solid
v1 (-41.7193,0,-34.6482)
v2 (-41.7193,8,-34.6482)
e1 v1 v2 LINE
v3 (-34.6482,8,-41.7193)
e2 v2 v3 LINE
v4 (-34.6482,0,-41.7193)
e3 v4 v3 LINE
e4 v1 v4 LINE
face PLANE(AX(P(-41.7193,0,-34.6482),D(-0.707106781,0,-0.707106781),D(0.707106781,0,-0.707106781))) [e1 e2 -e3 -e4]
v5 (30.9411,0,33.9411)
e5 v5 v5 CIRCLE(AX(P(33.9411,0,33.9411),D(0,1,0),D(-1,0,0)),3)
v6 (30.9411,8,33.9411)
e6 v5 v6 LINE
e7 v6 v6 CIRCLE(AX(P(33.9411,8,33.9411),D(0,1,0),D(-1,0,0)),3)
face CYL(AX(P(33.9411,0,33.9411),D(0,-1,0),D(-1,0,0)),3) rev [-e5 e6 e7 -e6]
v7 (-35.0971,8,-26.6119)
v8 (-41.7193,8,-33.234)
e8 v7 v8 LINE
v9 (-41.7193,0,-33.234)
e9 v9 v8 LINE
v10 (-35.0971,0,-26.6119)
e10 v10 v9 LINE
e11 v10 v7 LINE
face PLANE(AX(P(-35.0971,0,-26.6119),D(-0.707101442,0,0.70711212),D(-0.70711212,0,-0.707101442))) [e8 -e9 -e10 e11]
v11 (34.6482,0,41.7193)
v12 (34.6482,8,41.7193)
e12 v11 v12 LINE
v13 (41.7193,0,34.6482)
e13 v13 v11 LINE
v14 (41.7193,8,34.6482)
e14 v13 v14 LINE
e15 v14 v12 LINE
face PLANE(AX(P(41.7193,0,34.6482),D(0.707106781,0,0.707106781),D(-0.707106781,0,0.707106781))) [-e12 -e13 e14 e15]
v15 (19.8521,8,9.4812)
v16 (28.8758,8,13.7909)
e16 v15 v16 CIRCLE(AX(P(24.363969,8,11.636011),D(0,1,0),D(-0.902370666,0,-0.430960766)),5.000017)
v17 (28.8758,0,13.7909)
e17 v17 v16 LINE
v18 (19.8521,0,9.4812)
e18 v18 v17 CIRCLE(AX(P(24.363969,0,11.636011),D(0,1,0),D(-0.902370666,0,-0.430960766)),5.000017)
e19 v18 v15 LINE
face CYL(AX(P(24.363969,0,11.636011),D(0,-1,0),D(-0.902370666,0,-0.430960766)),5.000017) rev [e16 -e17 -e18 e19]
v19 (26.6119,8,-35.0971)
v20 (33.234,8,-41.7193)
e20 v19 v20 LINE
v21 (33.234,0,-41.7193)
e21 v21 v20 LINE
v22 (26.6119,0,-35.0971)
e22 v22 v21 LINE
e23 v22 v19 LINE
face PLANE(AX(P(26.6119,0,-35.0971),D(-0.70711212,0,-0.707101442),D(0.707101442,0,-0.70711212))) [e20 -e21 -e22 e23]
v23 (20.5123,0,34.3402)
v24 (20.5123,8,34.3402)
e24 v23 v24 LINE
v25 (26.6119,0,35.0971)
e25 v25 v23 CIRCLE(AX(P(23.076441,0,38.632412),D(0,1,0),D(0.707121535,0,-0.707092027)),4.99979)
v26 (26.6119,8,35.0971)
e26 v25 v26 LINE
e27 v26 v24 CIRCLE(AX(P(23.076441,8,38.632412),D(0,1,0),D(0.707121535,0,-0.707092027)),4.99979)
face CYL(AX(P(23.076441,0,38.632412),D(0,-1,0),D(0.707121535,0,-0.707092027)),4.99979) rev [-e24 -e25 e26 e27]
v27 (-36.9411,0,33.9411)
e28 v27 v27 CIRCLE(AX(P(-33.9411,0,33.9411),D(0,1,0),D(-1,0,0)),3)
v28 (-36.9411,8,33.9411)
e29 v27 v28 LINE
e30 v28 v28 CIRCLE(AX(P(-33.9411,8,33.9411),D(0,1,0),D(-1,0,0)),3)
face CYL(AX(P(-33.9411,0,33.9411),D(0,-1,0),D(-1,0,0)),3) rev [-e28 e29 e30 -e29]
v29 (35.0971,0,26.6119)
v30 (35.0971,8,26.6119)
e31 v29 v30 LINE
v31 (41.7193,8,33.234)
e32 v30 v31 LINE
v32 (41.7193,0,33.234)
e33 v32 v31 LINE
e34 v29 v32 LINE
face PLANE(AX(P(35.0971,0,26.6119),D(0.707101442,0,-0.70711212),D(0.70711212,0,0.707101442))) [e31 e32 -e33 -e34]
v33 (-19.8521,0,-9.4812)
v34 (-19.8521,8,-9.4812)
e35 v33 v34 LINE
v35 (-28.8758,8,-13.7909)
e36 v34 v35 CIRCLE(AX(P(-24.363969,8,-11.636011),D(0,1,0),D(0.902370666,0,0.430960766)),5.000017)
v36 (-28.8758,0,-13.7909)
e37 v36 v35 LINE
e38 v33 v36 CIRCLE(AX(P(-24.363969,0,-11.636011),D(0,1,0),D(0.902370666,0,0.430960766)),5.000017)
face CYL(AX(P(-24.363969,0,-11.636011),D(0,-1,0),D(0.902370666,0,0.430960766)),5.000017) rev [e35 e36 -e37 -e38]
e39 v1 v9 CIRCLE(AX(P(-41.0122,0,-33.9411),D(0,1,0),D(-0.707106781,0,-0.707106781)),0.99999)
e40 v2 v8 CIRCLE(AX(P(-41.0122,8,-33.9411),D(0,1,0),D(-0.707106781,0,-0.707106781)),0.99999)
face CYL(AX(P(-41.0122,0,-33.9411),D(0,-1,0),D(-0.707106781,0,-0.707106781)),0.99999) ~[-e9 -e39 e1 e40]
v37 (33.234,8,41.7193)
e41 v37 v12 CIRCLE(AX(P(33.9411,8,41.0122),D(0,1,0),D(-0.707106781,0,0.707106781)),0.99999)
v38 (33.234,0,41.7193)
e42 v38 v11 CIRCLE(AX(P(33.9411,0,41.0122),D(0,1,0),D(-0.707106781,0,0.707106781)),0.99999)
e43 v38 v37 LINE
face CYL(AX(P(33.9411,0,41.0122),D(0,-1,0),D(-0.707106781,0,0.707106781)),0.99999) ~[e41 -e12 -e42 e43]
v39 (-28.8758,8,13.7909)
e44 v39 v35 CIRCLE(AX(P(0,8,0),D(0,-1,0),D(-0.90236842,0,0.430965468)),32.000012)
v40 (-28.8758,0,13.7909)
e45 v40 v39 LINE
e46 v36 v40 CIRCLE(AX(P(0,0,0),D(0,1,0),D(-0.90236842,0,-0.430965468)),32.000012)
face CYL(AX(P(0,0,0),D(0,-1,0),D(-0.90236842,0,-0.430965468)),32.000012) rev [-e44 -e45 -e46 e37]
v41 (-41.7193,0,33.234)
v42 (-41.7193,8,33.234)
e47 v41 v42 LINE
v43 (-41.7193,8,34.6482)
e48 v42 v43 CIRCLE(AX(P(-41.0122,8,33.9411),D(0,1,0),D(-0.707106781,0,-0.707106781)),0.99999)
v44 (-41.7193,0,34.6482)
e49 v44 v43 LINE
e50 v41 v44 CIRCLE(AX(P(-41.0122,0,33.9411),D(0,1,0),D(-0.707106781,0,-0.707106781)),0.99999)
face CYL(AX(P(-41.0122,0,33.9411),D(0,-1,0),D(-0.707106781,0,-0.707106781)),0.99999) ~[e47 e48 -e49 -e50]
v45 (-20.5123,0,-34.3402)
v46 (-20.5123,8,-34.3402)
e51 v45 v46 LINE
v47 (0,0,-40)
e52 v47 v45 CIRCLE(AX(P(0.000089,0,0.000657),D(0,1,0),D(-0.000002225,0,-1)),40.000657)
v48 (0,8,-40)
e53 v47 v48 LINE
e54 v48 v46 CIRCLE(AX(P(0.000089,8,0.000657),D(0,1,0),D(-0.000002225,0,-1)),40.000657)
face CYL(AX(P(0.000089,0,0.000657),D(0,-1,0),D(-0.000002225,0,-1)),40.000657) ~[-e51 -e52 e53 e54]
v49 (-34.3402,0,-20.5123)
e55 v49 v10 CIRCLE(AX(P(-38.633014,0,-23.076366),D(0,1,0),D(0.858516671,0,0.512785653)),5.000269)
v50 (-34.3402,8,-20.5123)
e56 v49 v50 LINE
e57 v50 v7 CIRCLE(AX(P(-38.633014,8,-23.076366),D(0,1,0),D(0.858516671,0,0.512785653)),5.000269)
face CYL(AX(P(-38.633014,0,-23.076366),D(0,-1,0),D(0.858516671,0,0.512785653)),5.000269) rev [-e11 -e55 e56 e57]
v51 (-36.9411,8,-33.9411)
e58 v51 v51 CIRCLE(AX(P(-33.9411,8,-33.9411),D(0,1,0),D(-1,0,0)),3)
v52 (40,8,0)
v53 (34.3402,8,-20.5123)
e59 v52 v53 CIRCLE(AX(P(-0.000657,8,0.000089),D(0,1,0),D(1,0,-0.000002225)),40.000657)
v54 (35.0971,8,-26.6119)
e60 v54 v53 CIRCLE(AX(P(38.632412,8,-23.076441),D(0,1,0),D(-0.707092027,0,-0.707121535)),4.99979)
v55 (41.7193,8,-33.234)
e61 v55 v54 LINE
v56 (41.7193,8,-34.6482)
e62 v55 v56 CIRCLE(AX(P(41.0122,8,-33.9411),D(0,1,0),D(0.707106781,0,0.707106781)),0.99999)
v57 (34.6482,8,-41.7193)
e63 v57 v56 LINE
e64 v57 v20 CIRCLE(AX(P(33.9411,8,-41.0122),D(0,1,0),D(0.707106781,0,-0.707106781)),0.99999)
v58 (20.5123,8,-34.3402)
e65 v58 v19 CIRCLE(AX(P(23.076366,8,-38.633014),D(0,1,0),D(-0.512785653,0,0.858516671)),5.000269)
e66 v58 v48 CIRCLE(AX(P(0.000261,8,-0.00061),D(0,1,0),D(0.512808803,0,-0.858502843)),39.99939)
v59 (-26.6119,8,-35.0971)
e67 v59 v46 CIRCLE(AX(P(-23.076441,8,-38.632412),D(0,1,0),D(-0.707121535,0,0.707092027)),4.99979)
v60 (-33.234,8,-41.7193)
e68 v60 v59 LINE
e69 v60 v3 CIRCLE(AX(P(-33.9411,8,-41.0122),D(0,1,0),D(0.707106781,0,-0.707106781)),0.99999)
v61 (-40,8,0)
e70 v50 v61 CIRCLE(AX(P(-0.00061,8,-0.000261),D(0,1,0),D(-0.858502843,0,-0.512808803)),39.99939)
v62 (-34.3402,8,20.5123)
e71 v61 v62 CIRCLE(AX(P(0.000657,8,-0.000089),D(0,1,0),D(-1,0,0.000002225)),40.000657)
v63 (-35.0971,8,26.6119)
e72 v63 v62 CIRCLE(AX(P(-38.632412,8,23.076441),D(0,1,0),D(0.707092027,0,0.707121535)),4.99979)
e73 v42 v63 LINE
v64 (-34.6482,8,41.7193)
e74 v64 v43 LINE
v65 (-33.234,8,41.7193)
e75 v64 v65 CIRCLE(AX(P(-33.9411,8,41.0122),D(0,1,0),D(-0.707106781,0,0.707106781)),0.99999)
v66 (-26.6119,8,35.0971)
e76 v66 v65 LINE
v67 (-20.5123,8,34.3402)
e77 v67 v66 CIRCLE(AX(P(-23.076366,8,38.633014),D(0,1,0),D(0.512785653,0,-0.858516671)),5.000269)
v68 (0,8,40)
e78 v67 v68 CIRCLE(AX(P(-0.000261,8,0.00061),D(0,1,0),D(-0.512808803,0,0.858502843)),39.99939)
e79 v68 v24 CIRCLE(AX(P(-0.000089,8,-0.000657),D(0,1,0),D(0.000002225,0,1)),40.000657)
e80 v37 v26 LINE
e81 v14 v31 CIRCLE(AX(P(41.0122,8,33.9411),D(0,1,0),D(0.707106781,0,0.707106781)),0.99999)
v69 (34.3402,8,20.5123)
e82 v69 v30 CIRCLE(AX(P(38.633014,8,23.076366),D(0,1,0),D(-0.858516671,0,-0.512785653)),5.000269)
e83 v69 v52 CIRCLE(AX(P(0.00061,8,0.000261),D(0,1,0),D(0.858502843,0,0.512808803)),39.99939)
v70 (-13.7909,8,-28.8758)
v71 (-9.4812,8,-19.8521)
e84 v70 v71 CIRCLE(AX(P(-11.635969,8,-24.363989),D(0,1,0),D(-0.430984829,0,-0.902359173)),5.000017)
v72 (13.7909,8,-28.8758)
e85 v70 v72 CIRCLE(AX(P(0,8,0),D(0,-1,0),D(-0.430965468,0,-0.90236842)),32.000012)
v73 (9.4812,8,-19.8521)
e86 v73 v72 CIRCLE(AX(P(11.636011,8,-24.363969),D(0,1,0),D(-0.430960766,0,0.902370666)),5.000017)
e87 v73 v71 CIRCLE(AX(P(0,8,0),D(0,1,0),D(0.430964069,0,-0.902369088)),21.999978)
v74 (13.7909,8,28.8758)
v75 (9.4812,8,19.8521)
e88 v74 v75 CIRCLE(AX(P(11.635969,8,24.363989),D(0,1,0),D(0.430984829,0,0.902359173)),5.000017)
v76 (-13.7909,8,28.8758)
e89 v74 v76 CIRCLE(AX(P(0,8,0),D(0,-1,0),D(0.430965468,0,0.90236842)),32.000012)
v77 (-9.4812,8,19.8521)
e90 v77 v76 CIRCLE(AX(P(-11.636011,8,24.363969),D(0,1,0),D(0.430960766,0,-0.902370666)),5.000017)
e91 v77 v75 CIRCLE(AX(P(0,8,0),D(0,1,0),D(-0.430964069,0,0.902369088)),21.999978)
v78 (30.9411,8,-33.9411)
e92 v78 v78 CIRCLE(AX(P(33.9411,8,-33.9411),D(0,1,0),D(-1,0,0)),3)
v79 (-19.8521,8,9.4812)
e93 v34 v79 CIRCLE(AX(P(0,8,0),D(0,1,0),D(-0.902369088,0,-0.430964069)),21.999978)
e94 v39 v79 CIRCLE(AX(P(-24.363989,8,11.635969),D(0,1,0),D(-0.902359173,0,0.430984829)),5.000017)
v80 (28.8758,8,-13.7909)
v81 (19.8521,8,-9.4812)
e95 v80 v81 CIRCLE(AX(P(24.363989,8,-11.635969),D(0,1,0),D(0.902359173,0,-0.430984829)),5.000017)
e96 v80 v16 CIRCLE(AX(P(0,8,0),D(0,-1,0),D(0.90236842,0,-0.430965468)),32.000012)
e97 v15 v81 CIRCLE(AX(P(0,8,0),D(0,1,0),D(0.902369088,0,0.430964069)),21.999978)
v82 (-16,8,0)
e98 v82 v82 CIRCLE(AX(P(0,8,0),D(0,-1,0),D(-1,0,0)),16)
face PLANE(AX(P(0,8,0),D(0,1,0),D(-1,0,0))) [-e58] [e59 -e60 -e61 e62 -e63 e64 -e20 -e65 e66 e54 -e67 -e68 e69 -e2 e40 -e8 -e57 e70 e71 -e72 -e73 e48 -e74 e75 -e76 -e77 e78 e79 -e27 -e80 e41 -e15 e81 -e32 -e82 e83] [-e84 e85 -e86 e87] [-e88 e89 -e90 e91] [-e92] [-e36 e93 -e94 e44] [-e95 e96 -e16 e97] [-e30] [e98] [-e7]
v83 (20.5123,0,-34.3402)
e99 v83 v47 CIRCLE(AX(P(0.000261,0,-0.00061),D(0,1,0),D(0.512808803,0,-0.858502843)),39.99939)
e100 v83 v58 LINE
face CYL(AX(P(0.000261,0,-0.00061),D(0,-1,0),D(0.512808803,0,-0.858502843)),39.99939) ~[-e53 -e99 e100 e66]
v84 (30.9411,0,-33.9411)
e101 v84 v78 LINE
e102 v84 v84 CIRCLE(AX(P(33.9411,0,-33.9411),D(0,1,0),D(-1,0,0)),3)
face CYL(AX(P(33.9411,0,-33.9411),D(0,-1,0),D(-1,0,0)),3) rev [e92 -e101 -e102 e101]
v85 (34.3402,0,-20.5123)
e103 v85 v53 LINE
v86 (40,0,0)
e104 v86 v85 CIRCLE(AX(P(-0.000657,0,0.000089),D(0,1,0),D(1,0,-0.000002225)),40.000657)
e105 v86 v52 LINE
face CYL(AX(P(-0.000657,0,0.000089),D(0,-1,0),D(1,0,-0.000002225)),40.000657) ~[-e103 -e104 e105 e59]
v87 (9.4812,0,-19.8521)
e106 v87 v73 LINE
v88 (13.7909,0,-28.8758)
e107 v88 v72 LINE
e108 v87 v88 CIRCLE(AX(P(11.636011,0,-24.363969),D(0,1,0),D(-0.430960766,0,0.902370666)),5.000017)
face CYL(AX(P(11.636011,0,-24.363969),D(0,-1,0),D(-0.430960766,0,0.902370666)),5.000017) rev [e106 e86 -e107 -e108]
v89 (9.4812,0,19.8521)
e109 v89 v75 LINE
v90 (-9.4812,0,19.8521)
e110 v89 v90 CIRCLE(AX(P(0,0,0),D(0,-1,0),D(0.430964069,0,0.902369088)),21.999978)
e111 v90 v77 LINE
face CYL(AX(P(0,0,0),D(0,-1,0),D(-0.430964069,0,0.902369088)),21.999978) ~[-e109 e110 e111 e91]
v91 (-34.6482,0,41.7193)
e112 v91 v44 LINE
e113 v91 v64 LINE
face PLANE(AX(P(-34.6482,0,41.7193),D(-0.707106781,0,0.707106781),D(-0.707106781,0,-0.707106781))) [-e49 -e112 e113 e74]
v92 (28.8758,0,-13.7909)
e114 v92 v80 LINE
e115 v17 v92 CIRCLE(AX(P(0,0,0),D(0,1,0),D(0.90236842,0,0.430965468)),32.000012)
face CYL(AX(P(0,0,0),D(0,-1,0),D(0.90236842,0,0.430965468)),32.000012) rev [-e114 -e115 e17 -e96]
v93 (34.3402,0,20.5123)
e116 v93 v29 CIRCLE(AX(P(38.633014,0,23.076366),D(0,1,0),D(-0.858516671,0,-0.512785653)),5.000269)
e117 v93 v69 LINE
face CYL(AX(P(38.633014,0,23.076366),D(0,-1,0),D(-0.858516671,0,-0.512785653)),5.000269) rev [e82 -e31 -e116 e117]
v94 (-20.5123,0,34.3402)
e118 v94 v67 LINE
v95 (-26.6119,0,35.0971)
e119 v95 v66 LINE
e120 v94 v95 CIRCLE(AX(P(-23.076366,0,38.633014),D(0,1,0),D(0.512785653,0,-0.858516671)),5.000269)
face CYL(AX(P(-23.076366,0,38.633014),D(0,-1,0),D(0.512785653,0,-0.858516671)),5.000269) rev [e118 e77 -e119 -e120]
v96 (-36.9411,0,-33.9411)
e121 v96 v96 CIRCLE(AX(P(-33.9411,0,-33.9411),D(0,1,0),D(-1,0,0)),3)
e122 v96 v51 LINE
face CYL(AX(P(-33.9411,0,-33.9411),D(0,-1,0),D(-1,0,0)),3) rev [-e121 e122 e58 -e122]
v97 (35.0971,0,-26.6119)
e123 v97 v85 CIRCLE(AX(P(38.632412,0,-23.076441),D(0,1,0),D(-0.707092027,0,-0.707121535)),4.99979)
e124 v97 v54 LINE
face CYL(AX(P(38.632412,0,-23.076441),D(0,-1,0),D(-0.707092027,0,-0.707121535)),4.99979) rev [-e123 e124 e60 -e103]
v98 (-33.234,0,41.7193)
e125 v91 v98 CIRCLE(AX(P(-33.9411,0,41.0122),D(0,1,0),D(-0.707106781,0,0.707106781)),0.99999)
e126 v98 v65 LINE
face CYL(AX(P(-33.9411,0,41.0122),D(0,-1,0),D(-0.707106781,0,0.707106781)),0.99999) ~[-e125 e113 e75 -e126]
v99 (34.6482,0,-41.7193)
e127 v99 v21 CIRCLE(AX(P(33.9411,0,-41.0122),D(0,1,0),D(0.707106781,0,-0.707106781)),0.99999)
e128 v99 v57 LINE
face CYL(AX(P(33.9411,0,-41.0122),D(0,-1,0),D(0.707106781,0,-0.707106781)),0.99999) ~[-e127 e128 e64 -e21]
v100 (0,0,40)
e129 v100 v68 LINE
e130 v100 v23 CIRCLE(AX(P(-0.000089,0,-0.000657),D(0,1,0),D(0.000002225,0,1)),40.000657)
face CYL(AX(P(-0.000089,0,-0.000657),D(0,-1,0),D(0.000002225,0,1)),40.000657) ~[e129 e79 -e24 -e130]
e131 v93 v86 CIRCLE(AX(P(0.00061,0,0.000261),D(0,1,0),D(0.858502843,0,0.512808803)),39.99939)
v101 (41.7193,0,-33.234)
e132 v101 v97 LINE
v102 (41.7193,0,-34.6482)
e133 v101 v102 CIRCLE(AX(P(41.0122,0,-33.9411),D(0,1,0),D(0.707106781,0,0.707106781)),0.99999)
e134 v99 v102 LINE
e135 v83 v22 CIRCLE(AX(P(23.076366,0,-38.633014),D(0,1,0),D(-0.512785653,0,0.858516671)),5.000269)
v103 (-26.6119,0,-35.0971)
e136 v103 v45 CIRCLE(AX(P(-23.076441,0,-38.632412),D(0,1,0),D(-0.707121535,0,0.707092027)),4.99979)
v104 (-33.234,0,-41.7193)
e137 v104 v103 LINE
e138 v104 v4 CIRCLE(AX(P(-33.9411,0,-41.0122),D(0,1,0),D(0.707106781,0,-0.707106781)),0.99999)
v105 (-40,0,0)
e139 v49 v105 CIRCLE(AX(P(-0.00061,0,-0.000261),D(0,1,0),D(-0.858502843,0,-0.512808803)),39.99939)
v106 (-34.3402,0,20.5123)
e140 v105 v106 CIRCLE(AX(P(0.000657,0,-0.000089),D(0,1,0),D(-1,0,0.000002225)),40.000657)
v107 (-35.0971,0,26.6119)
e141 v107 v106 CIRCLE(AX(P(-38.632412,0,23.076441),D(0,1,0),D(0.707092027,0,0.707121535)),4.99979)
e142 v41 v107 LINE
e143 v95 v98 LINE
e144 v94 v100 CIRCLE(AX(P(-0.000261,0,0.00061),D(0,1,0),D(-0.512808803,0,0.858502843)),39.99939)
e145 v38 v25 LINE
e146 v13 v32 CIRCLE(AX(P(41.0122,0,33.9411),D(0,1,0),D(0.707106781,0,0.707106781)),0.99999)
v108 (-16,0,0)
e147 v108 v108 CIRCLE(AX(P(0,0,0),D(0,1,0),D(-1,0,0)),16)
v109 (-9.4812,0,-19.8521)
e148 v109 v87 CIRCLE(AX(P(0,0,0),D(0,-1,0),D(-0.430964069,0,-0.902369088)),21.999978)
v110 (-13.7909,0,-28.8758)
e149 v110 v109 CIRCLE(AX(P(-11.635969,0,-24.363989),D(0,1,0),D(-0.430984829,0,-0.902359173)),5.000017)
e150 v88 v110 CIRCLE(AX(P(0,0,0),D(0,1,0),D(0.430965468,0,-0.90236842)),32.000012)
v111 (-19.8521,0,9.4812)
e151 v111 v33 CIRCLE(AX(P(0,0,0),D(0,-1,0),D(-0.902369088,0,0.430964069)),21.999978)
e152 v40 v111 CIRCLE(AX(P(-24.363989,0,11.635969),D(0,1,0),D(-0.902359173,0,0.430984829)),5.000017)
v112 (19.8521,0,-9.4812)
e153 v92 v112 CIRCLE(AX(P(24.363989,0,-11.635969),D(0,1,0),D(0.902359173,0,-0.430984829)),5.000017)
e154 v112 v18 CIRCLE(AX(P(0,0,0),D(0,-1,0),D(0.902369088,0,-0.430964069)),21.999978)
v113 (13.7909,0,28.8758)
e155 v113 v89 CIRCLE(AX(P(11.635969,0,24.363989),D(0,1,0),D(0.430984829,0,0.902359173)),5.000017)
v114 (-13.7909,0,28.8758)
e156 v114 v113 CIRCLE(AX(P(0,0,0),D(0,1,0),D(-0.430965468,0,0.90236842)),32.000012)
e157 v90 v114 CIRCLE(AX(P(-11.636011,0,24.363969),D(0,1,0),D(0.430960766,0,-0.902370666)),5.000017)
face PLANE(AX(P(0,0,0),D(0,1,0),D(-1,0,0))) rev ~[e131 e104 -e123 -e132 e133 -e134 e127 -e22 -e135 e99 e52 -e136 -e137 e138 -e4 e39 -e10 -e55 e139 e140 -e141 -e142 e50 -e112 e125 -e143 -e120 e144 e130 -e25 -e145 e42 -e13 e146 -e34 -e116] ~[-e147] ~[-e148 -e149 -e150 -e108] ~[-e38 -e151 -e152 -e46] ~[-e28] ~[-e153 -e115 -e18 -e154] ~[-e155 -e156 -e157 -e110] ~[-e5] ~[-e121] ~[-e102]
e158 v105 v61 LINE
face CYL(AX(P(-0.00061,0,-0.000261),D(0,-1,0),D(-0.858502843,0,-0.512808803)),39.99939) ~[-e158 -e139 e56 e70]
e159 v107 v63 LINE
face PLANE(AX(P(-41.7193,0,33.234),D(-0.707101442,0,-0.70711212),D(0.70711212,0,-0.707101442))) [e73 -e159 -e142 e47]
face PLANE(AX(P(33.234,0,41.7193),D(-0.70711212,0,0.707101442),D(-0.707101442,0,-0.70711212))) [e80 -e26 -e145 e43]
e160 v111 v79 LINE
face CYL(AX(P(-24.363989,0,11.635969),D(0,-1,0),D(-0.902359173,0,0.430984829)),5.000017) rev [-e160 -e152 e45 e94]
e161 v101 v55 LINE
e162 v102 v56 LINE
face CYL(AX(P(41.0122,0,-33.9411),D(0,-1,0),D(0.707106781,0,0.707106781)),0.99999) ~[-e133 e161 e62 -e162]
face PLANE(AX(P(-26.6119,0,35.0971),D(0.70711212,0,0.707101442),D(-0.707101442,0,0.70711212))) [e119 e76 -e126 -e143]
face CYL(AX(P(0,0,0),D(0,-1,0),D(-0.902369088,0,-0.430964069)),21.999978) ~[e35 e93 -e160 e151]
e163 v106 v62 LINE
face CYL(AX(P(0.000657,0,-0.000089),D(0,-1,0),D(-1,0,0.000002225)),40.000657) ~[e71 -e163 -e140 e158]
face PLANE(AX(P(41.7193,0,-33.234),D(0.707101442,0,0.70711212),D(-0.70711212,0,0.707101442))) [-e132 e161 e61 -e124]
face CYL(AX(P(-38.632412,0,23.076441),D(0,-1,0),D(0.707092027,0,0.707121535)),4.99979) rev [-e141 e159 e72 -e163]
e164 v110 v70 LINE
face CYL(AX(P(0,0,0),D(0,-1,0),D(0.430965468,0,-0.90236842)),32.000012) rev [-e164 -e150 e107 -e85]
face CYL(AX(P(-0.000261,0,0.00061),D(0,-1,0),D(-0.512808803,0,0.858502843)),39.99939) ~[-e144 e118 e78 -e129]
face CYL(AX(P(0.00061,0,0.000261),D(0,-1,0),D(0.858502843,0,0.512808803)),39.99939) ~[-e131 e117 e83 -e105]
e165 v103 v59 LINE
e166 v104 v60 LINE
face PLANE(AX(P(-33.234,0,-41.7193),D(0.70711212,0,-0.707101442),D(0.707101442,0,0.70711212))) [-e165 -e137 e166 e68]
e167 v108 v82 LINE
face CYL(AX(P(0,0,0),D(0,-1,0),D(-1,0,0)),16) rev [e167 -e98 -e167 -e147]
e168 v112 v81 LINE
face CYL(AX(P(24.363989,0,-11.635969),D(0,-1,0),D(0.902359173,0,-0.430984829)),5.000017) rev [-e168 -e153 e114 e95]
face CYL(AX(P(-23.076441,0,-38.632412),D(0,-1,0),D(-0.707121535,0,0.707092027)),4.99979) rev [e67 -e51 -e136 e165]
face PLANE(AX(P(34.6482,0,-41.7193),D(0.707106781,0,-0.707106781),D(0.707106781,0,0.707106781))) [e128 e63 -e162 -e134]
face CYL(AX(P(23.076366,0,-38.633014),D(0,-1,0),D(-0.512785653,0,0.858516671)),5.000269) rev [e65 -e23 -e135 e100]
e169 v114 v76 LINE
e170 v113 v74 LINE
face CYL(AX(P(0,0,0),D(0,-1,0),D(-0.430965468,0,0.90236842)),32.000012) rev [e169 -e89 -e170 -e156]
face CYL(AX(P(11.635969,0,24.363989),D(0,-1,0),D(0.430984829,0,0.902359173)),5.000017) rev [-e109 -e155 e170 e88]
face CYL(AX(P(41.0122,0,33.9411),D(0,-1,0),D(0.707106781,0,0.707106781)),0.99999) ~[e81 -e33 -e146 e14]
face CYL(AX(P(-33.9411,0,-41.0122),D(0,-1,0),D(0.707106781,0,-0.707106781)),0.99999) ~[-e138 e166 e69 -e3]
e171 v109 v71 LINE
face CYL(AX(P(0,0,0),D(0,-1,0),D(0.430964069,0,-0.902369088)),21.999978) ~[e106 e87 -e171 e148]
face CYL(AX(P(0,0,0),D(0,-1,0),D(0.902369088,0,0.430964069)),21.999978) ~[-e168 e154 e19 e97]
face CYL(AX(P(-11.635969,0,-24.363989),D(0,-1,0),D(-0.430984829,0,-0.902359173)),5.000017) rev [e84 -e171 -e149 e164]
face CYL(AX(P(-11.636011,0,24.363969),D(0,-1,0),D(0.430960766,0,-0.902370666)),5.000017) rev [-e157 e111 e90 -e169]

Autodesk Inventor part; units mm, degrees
ref_plane "YZ Plane" through (0, 0, 0) normal (1, 0, 0) x (0, 1, 0)
ref_plane "XZ Plane" through (0, 0, 0) normal (0, 1, 0) x (-1, 0, 0)
ref_plane "XY Plane" through (0, 0, 0) normal (0, 0, 1) x (1, 0, 0)
sketch "Esquisse1" plane through (0, 0, 0) normal (0, 1, 0) x (-1, 0, 0)
  circle A0 centre (33.9411, 33.9411) radius 3
  line L0 (0, -58.8171) -> (0, 58.8171) projected
  line L1 (-58.8171, 0) -> (58.8171, 0) projected
  line L2 (0, 0) -> (33.9411, 33.9411) construction
  line L3 (26.6119, 35.0971) -> (33.234, 41.7193)
  line L4 (34.6482, 41.7193) -> (41.7193, 34.6482)
  line L5 (41.7193, 33.234) -> (35.0971, 26.6119)
  arc A1 (34.6482, 41.7193) -> (33.234, 41.7193) centre (33.9411, 41.0122) ccw
  arc A2 (41.7193, 33.234) -> (41.7193, 34.6482) centre (41.0122, 33.9411) ccw
  arc A3 (11.636, 24.364) -> (-11.636, 24.364) centre (0, 0) ccw construction
  arc A4 (13.7909, 28.8758) -> (-13.7909, 28.8758) centre (0, 0) ccw
  arc A5 (9.4812, 19.8521) -> (-9.4812, 19.8521) centre (0, 0) ccw
  arc A6 (9.4812, 19.8521) -> (13.7909, 28.8758) centre (11.636, 24.364) ccw
  arc A7 (-13.7909, 28.8758) -> (-9.4812, 19.8521) centre (-11.636, 24.364) ccw
  circle A8 centre (0, 0) radius 16
  arc A9 (20.5123, 34.3402) -> (0, 40) centre (0, 0) ccw
  arc A10 (40, 0) -> (34.3402, 20.5123) centre (0, 0) ccw
  arc A11 (20.5123, 34.3402) -> (26.6119, 35.0971) centre (23.0763, 38.6327) ccw
  arc A12 (35.0971, 26.6119) -> (34.3402, 20.5123) centre (38.6327, 23.0763) ccw
  circle A13 centre (-33.9411, 33.9411) radius 3
  line L6 (0, 0) -> (-33.9411, 33.9411) construction
  line L7 (-35.0971, 26.6119) -> (-41.7193, 33.234)
  line L8 (-41.7193, 34.6482) -> (-34.6482, 41.7193)
  line L9 (-33.234, 41.7193) -> (-26.6119, 35.0971)
  arc A14 (-41.7193, 34.6482) -> (-41.7193, 33.234) centre (-41.0122, 33.9411) ccw
  arc A15 (-33.234, 41.7193) -> (-34.6482, 41.7193) centre (-33.9411, 41.0122) ccw
  arc A16 (-24.364, 11.636) -> (-24.364, -11.636) centre (0, 0) ccw construction
  arc A17 (-28.8758, 13.7909) -> (-28.8758, -13.7909) centre (0, 0) ccw
  arc A18 (-19.8521, 9.4812) -> (-19.8521, -9.4812) centre (0, 0) ccw
  arc A19 (-19.8521, 9.4812) -> (-28.8758, 13.7909) centre (-24.364, 11.636) ccw
  arc A20 (-28.8758, -13.7909) -> (-19.8521, -9.4812) centre (-24.364, -11.636) ccw
  arc A21 (-34.3402, 20.5123) -> (-40, 0) centre (0, 0) ccw
  arc A22 (0, 40) -> (-20.5123, 34.3402) centre (0, 0) ccw
  arc A23 (-34.3402, 20.5123) -> (-35.0971, 26.6119) centre (-38.6327, 23.0763) ccw
  arc A24 (-26.6119, 35.0971) -> (-20.5123, 34.3402) centre (-23.0763, 38.6327) ccw
  circle A25 centre (-33.9411, -33.9411) radius 3
  line L10 (0, 0) -> (-33.9411, -33.9411) construction
  line L11 (-26.6119, -35.0971) -> (-33.234, -41.7193)
  line L12 (-34.6482, -41.7193) -> (-41.7193, -34.6482)
  line L13 (-41.7193, -33.234) -> (-35.0971, -26.6119)
  arc A26 (-34.6482, -41.7193) -> (-33.234, -41.7193) centre (-33.9411, -41.0122) ccw
  arc A27 (-41.7193, -33.234) -> (-41.7193, -34.6482) centre (-41.0122, -33.9411) ccw
  arc A28 (-11.636, -24.364) -> (11.636, -24.364) centre (0, 0) ccw construction
  arc A29 (-13.7909, -28.8758) -> (13.7909, -28.8758) centre (0, 0) ccw
  arc A30 (-9.4812, -19.8521) -> (9.4812, -19.8521) centre (0, 0) ccw
  arc A31 (-9.4812, -19.8521) -> (-13.7909, -28.8758) centre (-11.636, -24.364) ccw
  arc A32 (13.7909, -28.8758) -> (9.4812, -19.8521) centre (11.636, -24.364) ccw
  arc A33 (-20.5123, -34.3402) -> (0, -40) centre (0, 0) ccw
  arc A34 (-40, 0) -> (-34.3402, -20.5123) centre (0, 0) ccw
  arc A35 (-20.5123, -34.3402) -> (-26.6119, -35.0971) centre (-23.0763, -38.6327) ccw
  arc A36 (-35.0971, -26.6119) -> (-34.3402, -20.5123) centre (-38.6327, -23.0763) ccw
  circle A37 centre (33.9411, -33.9411) radius 3
  line L14 (0, 0) -> (33.9411, -33.9411) construction
  line L15 (35.0971, -26.6119) -> (41.7193, -33.234)
  line L16 (41.7193, -34.6482) -> (34.6482, -41.7193)
  line L17 (33.234, -41.7193) -> (26.6119, -35.0971)
  arc A38 (41.7193, -34.6482) -> (41.7193, -33.234) centre (41.0122, -33.9411) ccw
  arc A39 (33.234, -41.7193) -> (34.6482, -41.7193) centre (33.9411, -41.0122) ccw
  arc A40 (24.364, -11.636) -> (24.364, 11.636) centre (0, 0) ccw construction
  arc A41 (28.8758, -13.7909) -> (28.8758, 13.7909) centre (0, 0) ccw
  arc A42 (19.8521, -9.4812) -> (19.8521, 9.4812) centre (0, 0) ccw
  arc A43 (19.8521, -9.4812) -> (28.8758, -13.7909) centre (24.364, -11.636) ccw
  arc A44 (28.8758, 13.7909) -> (19.8521, 9.4812) centre (24.364, 11.636) ccw
  arc A45 (34.3402, -20.5123) -> (40, 0) centre (0, 0) ccw
  arc A46 (0, -40) -> (20.5123, -34.3402) centre (0, 0) ccw
  arc A47 (34.3402, -20.5123) -> (35.0971, -26.6119) centre (38.6327, -23.0763) ccw
  arc A48 (26.6119, -35.0971) -> (20.5123, -34.3402) centre (23.0763, -38.6327) ccw
  circle A49 centre (0, 0) radius 16 construction
  point P0 (23.7216, 32.2069)
  point P1 (32.2069, 23.7216)
  point P2 (-32.2069, 23.7216)
  point P3 (-23.7216, 32.2069)
  point P4 (-23.7216, -32.2069)
  point P5 (-32.2069, -23.7216)
  point P6 (32.2069, -23.7216)
  point P7 (23.7216, -32.2069)
  dimension "d1" = 6
  dimension "d2" = 48
  dimension "d3" = 6
  dimension "d4" = 6
  dimension "d5" = 45
  dimension "d6" = 1
  dimension "d9" = 10
  dimension "d10" = 9
  dimension "d11" = 40
  dimension "d12" = 5
  dimension "d13" = 27
extrude "Extrusion1" add sketch "Esquisse1" along normal blind 8 contours A33 A35 L11 A26 L12 A27 L13 A36 A34 L1 A17 A20 A18 A8 L0 A30 A31 A29 | L0 A29 A32 A30 A8 L1 A42 A43 A41 A45 A47 L15 A38 L16 A39 L17 A48 A46 | L1 A18 A19 A17 A21 A23 L7 A14 L8 A15 L9 A24 A22 L0 A4 A7 A5 A8 | A8 L0 A5 A6 A4 A9 A11 L3 A1 L4 A2 L5 A12 A10 L1 A41 A44 A42
equation "\"d4\" = d3"
properties part number "Colossus_7kW_Stator"
